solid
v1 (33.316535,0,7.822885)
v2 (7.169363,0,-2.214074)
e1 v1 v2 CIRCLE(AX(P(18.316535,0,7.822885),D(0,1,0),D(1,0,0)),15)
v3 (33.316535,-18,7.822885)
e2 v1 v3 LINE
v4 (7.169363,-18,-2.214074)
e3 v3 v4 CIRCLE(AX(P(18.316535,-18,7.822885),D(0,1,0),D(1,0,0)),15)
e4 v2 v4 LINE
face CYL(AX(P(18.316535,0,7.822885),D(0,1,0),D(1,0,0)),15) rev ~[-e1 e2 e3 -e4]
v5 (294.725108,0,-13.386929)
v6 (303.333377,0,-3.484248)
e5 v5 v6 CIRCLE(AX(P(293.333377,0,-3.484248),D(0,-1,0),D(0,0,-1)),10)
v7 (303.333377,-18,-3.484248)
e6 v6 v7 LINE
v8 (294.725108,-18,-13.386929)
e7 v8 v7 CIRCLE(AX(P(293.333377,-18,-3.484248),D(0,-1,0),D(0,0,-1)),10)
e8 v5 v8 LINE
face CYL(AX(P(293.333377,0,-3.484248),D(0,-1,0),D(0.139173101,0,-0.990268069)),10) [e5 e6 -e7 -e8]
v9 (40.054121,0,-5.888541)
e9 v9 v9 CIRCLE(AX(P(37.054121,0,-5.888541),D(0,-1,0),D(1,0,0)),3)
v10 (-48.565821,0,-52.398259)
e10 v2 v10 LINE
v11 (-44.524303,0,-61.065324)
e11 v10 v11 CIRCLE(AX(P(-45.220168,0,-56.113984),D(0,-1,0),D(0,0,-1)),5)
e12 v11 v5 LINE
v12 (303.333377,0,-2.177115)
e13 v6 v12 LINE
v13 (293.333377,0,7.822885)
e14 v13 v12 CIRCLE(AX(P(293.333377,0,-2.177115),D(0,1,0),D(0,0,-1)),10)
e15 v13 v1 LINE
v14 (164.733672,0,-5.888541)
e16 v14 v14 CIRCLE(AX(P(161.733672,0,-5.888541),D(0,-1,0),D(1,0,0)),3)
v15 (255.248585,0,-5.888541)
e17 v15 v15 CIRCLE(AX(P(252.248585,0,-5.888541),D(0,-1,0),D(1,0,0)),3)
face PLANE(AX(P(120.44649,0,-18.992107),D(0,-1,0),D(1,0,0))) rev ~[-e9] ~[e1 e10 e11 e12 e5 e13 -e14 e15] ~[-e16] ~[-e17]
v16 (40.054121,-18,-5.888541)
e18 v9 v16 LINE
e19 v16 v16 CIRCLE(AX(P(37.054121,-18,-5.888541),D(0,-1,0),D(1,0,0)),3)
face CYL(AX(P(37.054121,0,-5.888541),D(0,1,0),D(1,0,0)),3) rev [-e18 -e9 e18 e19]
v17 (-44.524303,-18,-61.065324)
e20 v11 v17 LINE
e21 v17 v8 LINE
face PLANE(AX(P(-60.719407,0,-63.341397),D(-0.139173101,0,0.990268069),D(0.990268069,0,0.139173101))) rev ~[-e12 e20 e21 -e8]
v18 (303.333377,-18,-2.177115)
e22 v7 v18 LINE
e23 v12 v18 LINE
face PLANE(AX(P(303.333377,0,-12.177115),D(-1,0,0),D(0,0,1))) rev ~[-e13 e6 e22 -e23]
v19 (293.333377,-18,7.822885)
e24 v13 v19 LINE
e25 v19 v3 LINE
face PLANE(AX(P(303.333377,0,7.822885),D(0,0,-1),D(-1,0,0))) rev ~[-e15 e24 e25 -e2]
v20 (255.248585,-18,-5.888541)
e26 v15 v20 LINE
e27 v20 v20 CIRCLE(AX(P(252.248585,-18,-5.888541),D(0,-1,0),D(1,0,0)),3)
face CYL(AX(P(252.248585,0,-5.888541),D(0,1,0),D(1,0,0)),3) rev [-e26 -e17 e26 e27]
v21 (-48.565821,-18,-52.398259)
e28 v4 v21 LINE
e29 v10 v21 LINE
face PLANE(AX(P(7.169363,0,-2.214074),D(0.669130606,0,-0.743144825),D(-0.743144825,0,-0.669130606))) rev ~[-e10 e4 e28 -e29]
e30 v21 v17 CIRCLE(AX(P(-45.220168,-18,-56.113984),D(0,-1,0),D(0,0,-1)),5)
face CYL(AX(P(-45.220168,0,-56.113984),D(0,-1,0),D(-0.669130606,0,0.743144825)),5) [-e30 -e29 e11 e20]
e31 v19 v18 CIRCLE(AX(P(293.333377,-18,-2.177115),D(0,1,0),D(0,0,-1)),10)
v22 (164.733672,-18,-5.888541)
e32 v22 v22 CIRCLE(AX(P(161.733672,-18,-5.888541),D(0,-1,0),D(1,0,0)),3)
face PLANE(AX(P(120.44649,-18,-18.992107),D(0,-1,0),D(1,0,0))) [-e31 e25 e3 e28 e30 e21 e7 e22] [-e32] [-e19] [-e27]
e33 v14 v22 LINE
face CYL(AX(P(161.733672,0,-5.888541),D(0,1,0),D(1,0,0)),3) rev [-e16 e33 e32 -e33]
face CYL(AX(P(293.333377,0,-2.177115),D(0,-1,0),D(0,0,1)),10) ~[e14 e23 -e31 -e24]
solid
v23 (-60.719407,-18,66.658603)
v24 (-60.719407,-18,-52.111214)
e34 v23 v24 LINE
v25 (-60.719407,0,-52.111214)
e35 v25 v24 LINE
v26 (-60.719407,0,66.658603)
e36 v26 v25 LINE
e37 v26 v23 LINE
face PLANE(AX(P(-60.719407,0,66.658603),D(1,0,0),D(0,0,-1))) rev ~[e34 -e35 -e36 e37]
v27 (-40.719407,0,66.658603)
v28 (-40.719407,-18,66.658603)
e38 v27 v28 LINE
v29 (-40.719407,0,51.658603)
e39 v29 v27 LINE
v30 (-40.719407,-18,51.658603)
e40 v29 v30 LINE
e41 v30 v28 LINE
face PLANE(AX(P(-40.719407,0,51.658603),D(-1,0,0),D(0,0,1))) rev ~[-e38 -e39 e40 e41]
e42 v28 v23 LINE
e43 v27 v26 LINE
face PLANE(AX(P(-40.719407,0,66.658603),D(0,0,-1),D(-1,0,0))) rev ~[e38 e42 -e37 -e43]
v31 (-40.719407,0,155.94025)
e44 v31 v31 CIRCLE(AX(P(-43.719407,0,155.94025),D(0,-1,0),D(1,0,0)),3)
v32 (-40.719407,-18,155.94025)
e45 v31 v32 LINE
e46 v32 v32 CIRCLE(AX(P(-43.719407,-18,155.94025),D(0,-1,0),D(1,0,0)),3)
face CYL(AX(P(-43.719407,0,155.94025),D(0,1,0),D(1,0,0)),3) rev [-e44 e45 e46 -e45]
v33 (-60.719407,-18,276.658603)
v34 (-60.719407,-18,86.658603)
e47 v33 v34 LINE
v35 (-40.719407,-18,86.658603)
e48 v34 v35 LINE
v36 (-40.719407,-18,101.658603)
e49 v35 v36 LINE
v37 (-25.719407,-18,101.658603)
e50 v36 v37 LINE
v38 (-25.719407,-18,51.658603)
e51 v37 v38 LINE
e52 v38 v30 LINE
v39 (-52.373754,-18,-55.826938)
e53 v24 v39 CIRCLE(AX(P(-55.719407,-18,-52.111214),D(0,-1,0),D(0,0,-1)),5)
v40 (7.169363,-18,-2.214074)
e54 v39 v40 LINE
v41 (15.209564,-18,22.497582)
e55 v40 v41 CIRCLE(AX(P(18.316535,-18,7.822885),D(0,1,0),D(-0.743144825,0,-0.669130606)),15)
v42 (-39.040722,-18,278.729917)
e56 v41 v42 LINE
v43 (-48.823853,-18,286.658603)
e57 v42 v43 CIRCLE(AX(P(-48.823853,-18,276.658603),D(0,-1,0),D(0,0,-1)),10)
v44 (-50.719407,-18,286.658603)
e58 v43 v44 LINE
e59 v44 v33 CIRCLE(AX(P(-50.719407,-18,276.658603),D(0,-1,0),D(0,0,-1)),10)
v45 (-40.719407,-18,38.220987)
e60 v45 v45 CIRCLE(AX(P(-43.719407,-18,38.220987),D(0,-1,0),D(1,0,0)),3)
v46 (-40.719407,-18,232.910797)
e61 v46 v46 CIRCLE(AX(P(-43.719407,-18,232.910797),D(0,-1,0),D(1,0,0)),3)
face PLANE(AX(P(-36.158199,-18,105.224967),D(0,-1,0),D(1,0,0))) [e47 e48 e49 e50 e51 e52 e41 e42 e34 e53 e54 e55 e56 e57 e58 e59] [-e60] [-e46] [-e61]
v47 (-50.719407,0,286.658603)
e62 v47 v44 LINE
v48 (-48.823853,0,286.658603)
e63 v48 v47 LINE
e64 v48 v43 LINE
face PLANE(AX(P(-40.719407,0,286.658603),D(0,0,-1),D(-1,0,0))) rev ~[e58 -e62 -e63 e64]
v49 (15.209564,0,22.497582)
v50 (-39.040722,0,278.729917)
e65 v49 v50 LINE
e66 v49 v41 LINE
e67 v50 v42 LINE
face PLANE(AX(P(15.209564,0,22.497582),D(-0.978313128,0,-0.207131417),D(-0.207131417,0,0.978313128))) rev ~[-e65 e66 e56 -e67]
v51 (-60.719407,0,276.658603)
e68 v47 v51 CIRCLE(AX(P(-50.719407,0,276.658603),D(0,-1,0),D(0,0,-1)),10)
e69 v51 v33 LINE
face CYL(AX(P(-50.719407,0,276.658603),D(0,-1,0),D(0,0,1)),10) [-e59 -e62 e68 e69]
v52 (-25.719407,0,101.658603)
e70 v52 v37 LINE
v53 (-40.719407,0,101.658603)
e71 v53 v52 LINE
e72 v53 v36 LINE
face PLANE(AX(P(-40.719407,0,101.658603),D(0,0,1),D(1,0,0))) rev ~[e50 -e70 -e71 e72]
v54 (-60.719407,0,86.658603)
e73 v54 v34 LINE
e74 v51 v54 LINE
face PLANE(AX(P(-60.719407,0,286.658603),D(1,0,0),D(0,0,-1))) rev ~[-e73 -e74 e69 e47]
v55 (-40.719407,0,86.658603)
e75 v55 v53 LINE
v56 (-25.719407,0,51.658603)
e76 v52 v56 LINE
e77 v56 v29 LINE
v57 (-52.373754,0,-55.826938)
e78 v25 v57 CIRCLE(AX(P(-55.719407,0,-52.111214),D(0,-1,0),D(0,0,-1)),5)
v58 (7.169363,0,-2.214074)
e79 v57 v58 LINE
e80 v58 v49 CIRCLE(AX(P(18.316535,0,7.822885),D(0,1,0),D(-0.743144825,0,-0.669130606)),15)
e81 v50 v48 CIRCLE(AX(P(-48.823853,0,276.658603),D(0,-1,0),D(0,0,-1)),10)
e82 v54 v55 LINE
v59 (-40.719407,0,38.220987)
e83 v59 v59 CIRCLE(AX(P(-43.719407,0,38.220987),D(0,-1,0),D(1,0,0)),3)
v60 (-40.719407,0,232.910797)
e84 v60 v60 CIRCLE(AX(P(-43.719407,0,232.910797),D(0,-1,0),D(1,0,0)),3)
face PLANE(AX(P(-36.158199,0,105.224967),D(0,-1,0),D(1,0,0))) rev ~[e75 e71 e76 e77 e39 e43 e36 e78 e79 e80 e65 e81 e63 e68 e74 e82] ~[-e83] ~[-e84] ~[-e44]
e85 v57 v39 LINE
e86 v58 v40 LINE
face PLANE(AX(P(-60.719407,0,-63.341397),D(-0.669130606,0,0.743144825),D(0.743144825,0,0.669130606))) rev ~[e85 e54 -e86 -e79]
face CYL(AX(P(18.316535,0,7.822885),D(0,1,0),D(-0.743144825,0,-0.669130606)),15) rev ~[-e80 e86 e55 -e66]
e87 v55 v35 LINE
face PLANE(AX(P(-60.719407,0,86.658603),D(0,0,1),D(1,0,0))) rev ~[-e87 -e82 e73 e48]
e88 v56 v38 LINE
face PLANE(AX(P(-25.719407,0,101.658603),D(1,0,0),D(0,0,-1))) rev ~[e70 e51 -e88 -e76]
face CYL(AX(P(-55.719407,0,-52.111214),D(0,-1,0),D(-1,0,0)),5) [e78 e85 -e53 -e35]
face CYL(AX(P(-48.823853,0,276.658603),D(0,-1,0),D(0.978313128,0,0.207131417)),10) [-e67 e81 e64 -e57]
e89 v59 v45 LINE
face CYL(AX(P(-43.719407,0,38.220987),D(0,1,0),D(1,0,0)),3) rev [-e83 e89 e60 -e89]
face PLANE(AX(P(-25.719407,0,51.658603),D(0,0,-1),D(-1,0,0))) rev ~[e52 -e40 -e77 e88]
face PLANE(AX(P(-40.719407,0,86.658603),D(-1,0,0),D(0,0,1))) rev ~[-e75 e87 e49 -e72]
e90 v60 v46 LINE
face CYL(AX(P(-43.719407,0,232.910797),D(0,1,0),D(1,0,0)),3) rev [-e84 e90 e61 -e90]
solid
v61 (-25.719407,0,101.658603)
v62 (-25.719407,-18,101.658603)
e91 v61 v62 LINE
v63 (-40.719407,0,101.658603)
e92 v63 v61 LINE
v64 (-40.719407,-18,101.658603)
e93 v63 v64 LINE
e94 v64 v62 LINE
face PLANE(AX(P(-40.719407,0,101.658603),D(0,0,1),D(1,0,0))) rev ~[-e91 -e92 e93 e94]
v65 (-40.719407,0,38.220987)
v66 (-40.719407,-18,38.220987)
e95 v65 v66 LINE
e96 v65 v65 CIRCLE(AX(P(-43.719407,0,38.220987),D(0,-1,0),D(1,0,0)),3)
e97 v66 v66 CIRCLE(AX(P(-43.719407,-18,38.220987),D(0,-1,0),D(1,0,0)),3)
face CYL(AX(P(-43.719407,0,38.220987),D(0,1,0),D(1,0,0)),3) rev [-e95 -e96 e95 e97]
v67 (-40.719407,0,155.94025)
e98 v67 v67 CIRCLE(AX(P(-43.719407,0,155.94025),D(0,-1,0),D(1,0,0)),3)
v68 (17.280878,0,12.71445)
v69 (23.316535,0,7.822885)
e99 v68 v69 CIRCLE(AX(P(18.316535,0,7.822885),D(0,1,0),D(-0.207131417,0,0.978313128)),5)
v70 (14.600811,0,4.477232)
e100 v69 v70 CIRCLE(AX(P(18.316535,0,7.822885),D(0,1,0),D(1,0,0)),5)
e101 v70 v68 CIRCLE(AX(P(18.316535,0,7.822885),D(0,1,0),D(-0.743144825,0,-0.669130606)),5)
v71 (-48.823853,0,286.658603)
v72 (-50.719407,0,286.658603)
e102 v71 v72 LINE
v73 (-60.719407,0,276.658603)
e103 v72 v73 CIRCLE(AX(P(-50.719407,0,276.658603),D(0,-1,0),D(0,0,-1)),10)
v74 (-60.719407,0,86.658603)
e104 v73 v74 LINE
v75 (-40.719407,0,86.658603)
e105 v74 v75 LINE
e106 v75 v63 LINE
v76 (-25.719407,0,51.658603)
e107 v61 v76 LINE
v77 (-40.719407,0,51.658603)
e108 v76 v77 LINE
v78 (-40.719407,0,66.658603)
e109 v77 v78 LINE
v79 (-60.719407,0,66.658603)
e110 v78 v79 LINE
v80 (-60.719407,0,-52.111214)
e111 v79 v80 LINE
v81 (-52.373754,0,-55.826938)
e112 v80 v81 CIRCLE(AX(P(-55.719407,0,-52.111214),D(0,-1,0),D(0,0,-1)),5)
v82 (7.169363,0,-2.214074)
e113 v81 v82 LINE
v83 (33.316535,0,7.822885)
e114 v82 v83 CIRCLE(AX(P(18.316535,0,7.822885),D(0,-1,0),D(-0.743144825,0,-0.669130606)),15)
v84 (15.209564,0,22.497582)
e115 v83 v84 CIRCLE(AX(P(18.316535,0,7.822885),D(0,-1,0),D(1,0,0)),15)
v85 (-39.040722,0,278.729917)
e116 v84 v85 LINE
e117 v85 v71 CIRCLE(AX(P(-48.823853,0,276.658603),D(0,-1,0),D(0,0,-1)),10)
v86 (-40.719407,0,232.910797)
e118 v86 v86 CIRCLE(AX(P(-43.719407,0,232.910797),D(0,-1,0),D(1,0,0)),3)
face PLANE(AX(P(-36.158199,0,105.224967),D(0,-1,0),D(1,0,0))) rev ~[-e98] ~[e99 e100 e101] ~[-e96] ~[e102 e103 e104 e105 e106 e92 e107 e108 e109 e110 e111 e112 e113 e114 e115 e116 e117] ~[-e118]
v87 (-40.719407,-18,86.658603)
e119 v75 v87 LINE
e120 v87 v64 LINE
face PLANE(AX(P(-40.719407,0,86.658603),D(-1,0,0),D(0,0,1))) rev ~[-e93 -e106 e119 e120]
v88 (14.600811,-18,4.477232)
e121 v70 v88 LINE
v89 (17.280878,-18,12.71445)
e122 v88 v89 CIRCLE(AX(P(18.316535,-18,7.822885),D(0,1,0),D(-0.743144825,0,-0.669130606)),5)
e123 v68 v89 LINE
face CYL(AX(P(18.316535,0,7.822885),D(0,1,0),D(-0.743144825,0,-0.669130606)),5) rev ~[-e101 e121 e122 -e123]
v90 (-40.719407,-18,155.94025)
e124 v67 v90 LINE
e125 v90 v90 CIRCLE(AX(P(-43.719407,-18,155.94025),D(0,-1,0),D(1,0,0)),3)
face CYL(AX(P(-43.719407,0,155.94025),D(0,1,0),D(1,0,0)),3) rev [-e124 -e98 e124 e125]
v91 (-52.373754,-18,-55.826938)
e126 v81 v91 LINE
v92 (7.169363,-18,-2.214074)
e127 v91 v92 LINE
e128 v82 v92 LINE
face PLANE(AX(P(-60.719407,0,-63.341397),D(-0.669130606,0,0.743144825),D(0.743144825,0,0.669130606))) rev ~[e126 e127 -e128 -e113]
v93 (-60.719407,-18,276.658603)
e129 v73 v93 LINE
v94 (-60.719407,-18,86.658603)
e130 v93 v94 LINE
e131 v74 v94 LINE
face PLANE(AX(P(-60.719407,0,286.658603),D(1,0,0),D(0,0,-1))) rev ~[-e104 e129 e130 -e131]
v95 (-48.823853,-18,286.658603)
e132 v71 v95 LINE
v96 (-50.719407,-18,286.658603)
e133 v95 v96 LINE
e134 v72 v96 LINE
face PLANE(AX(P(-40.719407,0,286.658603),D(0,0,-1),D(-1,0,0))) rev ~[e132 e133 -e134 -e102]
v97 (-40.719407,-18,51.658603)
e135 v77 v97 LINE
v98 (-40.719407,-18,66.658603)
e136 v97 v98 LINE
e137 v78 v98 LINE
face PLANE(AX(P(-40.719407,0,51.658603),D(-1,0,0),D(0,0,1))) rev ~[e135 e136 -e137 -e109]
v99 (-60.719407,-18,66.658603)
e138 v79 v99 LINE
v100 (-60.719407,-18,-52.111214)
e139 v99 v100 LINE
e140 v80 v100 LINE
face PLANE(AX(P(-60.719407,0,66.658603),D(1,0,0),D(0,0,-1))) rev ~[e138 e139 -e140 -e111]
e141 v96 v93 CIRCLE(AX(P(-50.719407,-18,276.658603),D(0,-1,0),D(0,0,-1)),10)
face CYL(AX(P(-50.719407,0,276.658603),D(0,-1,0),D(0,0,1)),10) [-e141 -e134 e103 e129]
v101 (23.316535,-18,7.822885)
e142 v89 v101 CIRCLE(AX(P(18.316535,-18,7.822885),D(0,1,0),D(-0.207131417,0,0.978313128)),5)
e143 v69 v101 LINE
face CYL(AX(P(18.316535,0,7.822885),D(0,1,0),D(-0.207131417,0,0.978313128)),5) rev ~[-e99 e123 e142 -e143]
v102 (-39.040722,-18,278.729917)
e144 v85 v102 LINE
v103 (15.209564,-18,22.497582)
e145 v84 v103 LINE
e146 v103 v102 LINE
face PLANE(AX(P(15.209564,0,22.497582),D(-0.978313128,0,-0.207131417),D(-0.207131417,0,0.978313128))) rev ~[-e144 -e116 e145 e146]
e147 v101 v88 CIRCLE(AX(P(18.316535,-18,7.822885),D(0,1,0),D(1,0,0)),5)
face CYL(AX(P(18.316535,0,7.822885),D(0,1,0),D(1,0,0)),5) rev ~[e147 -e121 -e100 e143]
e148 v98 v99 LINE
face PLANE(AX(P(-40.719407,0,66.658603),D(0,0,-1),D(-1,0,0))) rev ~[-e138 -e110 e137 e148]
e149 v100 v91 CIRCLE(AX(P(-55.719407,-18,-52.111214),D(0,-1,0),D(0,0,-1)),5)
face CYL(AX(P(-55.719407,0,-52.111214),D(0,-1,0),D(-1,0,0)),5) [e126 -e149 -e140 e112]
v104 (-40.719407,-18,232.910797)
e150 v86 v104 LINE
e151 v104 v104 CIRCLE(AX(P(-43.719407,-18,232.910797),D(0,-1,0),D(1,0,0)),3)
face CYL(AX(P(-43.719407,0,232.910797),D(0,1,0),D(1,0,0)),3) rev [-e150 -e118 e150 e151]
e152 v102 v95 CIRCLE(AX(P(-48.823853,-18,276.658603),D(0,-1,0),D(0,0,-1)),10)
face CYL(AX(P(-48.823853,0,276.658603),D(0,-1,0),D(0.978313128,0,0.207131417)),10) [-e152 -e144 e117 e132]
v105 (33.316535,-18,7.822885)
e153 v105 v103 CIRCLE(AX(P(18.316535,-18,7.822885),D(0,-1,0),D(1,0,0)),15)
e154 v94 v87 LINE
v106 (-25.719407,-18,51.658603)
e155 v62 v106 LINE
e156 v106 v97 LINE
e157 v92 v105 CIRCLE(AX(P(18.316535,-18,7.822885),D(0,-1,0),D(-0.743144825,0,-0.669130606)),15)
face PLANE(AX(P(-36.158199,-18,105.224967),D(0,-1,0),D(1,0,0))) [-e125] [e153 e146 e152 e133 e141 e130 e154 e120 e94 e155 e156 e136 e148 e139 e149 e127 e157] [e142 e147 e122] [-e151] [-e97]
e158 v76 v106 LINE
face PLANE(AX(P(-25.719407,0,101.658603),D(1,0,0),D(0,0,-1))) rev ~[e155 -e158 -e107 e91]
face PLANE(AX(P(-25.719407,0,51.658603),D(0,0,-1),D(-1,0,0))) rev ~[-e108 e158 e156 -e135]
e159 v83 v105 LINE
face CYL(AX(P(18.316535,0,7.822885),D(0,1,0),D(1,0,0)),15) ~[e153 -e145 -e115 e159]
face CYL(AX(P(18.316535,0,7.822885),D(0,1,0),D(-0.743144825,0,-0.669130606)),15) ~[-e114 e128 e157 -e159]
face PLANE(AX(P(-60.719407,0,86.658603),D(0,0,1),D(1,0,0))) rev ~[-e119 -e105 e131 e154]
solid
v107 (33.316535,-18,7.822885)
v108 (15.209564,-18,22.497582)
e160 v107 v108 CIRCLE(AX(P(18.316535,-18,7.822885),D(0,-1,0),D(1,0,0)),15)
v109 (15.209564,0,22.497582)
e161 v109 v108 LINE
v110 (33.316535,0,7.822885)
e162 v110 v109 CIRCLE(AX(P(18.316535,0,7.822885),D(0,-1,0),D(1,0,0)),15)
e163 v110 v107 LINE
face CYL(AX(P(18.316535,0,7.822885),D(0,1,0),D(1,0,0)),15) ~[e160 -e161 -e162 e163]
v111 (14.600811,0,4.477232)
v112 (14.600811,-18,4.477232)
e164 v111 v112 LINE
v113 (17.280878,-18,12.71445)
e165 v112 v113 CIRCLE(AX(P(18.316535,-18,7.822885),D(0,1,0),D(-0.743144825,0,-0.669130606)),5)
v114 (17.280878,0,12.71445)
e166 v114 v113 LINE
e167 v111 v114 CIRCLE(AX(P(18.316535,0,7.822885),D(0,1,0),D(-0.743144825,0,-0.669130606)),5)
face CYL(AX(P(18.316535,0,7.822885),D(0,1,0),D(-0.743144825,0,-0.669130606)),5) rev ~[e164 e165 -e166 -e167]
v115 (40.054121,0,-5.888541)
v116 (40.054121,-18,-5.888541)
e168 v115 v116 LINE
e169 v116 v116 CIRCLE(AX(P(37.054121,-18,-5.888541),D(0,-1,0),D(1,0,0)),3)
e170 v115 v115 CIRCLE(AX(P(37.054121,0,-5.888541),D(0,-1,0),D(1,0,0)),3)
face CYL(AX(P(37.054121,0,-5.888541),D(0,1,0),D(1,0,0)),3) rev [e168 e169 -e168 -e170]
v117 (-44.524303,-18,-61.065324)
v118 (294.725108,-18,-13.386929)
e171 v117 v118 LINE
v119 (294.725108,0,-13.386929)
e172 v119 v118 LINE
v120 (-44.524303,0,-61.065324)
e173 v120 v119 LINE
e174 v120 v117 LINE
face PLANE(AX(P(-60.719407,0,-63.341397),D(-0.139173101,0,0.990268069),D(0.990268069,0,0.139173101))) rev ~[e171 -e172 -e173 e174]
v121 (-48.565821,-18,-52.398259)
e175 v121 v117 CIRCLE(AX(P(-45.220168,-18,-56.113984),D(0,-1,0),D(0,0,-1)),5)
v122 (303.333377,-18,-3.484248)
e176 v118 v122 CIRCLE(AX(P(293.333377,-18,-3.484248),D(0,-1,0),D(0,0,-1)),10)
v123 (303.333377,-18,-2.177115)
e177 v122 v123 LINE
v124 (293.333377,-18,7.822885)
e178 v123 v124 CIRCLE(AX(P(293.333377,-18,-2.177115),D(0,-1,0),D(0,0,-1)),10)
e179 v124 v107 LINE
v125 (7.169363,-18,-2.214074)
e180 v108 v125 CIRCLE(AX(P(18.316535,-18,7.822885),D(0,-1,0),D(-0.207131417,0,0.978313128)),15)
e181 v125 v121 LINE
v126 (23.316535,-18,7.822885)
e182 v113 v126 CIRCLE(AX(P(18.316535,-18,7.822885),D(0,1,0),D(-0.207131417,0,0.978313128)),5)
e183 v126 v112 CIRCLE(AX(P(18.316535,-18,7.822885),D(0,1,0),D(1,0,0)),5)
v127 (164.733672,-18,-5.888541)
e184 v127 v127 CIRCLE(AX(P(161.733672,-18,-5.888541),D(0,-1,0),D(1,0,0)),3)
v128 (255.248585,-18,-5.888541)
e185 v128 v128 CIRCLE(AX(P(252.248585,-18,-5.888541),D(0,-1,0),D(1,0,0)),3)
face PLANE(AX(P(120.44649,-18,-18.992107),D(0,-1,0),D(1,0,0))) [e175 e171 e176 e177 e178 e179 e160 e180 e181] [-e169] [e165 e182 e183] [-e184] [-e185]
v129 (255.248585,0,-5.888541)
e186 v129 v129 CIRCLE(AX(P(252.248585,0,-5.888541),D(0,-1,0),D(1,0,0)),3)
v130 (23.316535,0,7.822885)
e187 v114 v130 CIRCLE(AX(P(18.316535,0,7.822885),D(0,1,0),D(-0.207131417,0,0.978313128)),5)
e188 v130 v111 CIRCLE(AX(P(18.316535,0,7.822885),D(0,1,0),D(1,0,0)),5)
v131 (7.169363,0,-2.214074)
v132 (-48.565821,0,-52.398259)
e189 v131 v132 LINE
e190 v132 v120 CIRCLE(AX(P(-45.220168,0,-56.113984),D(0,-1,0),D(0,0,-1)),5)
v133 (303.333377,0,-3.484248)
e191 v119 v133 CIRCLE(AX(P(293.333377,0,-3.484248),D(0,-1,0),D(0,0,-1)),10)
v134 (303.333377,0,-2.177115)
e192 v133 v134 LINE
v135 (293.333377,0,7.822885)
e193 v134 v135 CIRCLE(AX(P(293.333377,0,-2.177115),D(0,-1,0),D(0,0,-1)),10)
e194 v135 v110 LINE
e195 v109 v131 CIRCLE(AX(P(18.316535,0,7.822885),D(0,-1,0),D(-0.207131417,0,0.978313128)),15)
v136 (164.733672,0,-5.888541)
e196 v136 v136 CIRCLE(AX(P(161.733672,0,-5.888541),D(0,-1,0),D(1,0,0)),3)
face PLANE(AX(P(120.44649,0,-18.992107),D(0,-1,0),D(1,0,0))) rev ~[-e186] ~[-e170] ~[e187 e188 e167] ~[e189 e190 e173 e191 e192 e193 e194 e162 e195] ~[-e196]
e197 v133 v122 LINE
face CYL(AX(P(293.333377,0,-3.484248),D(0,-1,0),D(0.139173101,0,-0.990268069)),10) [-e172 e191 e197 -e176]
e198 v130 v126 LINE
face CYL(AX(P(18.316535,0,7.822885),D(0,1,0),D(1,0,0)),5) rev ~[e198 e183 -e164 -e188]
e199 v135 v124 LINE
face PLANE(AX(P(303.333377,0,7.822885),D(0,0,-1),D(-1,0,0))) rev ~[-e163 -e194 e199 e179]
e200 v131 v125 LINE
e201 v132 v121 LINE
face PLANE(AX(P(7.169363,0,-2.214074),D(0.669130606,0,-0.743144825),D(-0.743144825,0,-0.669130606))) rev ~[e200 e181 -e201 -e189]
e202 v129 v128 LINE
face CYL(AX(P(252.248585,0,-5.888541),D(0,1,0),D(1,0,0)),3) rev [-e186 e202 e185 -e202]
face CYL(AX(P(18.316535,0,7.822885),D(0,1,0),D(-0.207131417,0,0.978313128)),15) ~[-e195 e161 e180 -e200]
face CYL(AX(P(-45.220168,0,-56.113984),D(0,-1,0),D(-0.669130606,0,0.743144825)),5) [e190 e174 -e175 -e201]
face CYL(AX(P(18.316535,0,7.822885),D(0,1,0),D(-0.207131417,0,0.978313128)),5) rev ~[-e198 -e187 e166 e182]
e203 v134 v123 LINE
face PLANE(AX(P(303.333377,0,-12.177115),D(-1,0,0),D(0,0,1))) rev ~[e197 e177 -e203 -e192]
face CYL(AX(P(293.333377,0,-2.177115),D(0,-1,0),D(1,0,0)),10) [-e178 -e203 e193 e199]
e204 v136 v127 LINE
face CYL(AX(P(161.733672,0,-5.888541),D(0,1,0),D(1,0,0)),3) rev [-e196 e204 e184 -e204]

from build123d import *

# Parameters (mm, degrees)
F0_R     = 3
F1_DEPTH = 18
F2_DEPTH = 18
F3_DEPTH = 18
F4_DEPTH = 18
F5_R     = 5
F5_2_R   = 5
F5_3_R   = 5
F5_4_R   = 5
F6_R     = 10
F6_2_R   = 10
F6_3_R   = 10
F6_4_R   = 10


with BuildPart() as f1:
    # F0 (on Front) → F1 (new body)
    with BuildSketch(Plane.XZ):
        with BuildLine():
            Line((-60.7194070949, 66.6586026049), (-60.7194070949, -63.3413973951))
            Line((-60.7194070949, -63.3413973951), (7.1693628817, -2.2140743457))
            ThreePointArc((7.1693628817, -2.2140743457), (4.0525372812, 12.4638287862), (15.2095640051, 22.4975816663))
            Line((15.2095640051, 22.4975816663), (-40.7194070949, 286.6586026049))
            Line((-40.7194070949, 286.6586026049), (-60.7194070949, 286.6586026049))
            Line((-60.7194070949, 286.6586026049), (-60.7194070949, 86.6586026049))
            Line((-60.7194070949, 86.6586026049), (-40.7194070949, 86.6586026049))
            Line((-40.7194070949, 86.6586026049), (-40.7194070949, 101.6586026049))
            Line((-40.7194070949, 101.6586026049), (-25.7194070949, 101.6586026049))
            Line((-25.7194070949, 101.6586026049), (-25.7194070949, 51.6586026049))
            Line((-25.7194070949, 51.6586026049), (-40.7194070949, 51.6586026049))
            Line((-40.7194070949, 51.6586026049), (-40.7194070949, 66.6586026049))
            Line((-40.7194070949, 66.6586026049), (-60.7194070949, 66.6586026049))
        make_face()
        with Locations((-43.7194070949, 38.2209867239)):
            Circle(F0_R, mode=Mode.SUBTRACT)
        with Locations((-43.7194070949, 155.9402495623)):
            Circle(F0_R, mode=Mode.SUBTRACT)
        with Locations((-43.7194070949, 232.910797)):
            Circle(F0_R, mode=Mode.SUBTRACT)
    extrude(amount=F1_DEPTH)

    # F5#2
    f5_2_edges = [f1.edges().sort_by_distance(p)[0] for p in [
        (-60.719407, -9, -63.341397),
    ]]
    fillet(f5_2_edges, radius=F5_2_R)

    # F6#4
    f6_4_edges = [f1.edges().sort_by_distance(p)[0] for p in [
        (-60.719407, -9, 286.658603),
        (-40.719407, -9, 286.658603),
    ]]
    fillet(f6_4_edges, radius=F6_4_R)


with BuildPart() as f2:
    # F0 (on Front) → F2 (new body)
    with BuildSketch(Plane.XZ):
        with BuildLine():
            Line((7.1693628817, -2.2140743457), (-60.7194070949, -63.3413973951))
            Line((-60.7194070949, -63.3413973951), (303.3333769453, -12.1771152504))
            Line((303.3333769453, -12.1771152504), (303.3333769453, 7.8228847496))
            Line((303.3333769453, 7.8228847496), (33.3165352639, 7.8228847496))
            ThreePointArc((33.3165352639, 7.8228847496), (23.6920545071, -6.1808216478), (7.1693628817, -2.2140743457))
        make_face()
        with Locations((37.0541214943, -5.8885407634)):
            Circle(F0_R, mode=Mode.SUBTRACT)
        with Locations((161.7336720228, -5.8885407634)):
            Circle(F0_R, mode=Mode.SUBTRACT)
        with Locations((252.2485852242, -5.8885407634)):
            Circle(F0_R, mode=Mode.SUBTRACT)
        with BuildLine():
            Line((14.6008111365, 4.4772317179), (7.1693628817, -2.2140743457))
            ThreePointArc((7.1693628817, -2.2140743457), (23.6920545071, -6.1808216478), (33.3165352639, 7.8228847496))
            Line((33.3165352639, 7.8228847496), (23.3165352639, 7.8228847496))
            ThreePointArc((23.3165352639, 7.8228847496), (20.1083750116, 3.1549826172), (14.6008111365, 4.4772317179))
        make_face()
        with BuildLine():
            ThreePointArc((15.2095640051, 22.4975816663), (4.0525372812, 12.4638287862), (7.1693628817, -2.2140743457))
            Line((7.1693628817, -2.2140743457), (14.6008111365, 4.4772317179))
            ThreePointArc((14.6008111365, 4.4772317179), (13.5618692697, 9.3698660952), (17.2808781776, 12.7144503885))
            Line((17.2808781776, 12.7144503885), (15.2095640051, 22.4975816663))
        make_face()
        with BuildLine():
            ThreePointArc((33.3165352639, 7.8228847496), (27.7609894863, 19.4763084715), (15.2095640051, 22.4975816663))
            Line((15.2095640051, 22.4975816663), (17.2808781776, 12.7144503885))
            ThreePointArc((17.2808781776, 12.7144503885), (21.4646866713, 11.7073593236), (23.3165352639, 7.8228847496))
            Line((23.3165352639, 7.8228847496), (33.3165352639, 7.8228847496))
        make_face()
    extrude(amount=F2_DEPTH)

    # F5
    f5_edges = [f2.edges().sort_by_distance(p)[0] for p in [
        (-60.719407, -9, -63.341397),
    ]]
    fillet(f5_edges, radius=F5_R)

    # F6#2
    f6_2_edges = [f2.edges().sort_by_distance(p)[0] for p in [
        (303.333377, -9, 7.822885),
        (303.333377, -9, -12.177115),
    ]]
    fillet(f6_2_edges, radius=F6_2_R)


with BuildPart() as f3:
    # F0 (on Front) → F3 (new body)
    with BuildSketch(Plane.XZ):
        with BuildLine():
            Line((-60.7194070949, 66.6586026049), (-60.7194070949, -63.3413973951))
            Line((-60.7194070949, -63.3413973951), (7.1693628817, -2.2140743457))
            ThreePointArc((7.1693628817, -2.2140743457), (4.0525372812, 12.4638287862), (15.2095640051, 22.4975816663))
            Line((15.2095640051, 22.4975816663), (-40.7194070949, 286.6586026049))
            Line((-40.7194070949, 286.6586026049), (-60.7194070949, 286.6586026049))
            Line((-60.7194070949, 286.6586026049), (-60.7194070949, 86.6586026049))
            Line((-60.7194070949, 86.6586026049), (-40.7194070949, 86.6586026049))
            Line((-40.7194070949, 86.6586026049), (-40.7194070949, 101.6586026049))
            Line((-40.7194070949, 101.6586026049), (-25.7194070949, 101.6586026049))
            Line((-25.7194070949, 101.6586026049), (-25.7194070949, 51.6586026049))
            Line((-25.7194070949, 51.6586026049), (-40.7194070949, 51.6586026049))
            Line((-40.7194070949, 51.6586026049), (-40.7194070949, 66.6586026049))
            Line((-40.7194070949, 66.6586026049), (-60.7194070949, 66.6586026049))
        make_face()
        with Locations((-43.7194070949, 38.2209867239)):
            Circle(F0_R, mode=Mode.SUBTRACT)
        with Locations((-43.7194070949, 155.9402495623)):
            Circle(F0_R, mode=Mode.SUBTRACT)
        with Locations((-43.7194070949, 232.910797)):
            Circle(F0_R, mode=Mode.SUBTRACT)
        with BuildLine():
            ThreePointArc((15.2095640051, 22.4975816663), (4.0525372812, 12.4638287862), (7.1693628817, -2.2140743457))
            Line((7.1693628817, -2.2140743457), (14.6008111365, 4.4772317179))
            ThreePointArc((14.6008111365, 4.4772317179), (13.5618692697, 9.3698660952), (17.2808781776, 12.7144503885))
            Line((17.2808781776, 12.7144503885), (15.2095640051, 22.4975816663))
        make_face()
        with BuildLine():
            ThreePointArc((33.3165352639, 7.8228847496), (27.7609894863, 19.4763084715), (15.2095640051, 22.4975816663))
            Line((15.2095640051, 22.4975816663), (17.2808781776, 12.7144503885))
            ThreePointArc((17.2808781776, 12.7144503885), (21.4646866713, 11.7073593236), (23.3165352639, 7.8228847496))
            Line((23.3165352639, 7.8228847496), (33.3165352639, 7.8228847496))
        make_face()
        with BuildLine():
            Line((14.6008111365, 4.4772317179), (7.1693628817, -2.2140743457))
            ThreePointArc((7.1693628817, -2.2140743457), (23.6920545071, -6.1808216478), (33.3165352639, 7.8228847496))
            Line((33.3165352639, 7.8228847496), (23.3165352639, 7.8228847496))
            ThreePointArc((23.3165352639, 7.8228847496), (20.1083750116, 3.1549826172), (14.6008111365, 4.4772317179))
        make_face()
    extrude(amount=F3_DEPTH)

    # F5#3
    f5_3_edges = [f3.edges().sort_by_distance(p)[0] for p in [
        (-60.719407, -9, -63.341397),
    ]]
    fillet(f5_3_edges, radius=F5_3_R)

    # F6#3
    f6_3_edges = [f3.edges().sort_by_distance(p)[0] for p in [
        (-60.719407, -9, 286.658603),
        (-40.719407, -9, 286.658603),
    ]]
    fillet(f6_3_edges, radius=F6_3_R)


with BuildPart() as f4:
    # F0 (on Front) → F4 (new body)
    with BuildSketch(Plane.XZ):
        with BuildLine():
            Line((7.1693628817, -2.2140743457), (-60.7194070949, -63.3413973951))
            Line((-60.7194070949, -63.3413973951), (303.3333769453, -12.1771152504))
            Line((303.3333769453, -12.1771152504), (303.3333769453, 7.8228847496))
            Line((303.3333769453, 7.8228847496), (33.3165352639, 7.8228847496))
            ThreePointArc((33.3165352639, 7.8228847496), (23.6920545071, -6.1808216478), (7.1693628817, -2.2140743457))
        make_face()
        with Locations((37.0541214943, -5.8885407634)):
            Circle(F0_R, mode=Mode.SUBTRACT)
        with Locations((161.7336720228, -5.8885407634)):
            Circle(F0_R, mode=Mode.SUBTRACT)
        with Locations((252.2485852242, -5.8885407634)):
            Circle(F0_R, mode=Mode.SUBTRACT)
    extrude(amount=F4_DEPTH)

    # F5#4
    f5_4_edges = [f4.edges().sort_by_distance(p)[0] for p in [
        (-60.719407, -9, -63.341397),
    ]]
    fillet(f5_4_edges, radius=F5_4_R)

    # F6
    f6_edges = [f4.edges().sort_by_distance(p)[0] for p in [
        (303.333377, -9, 7.822885),
        (303.333377, -9, -12.177115),
    ]]
    fillet(f6_edges, radius=F6_R)


solid = Compound([f1.part, f2.part, f3.part, f4.part])
